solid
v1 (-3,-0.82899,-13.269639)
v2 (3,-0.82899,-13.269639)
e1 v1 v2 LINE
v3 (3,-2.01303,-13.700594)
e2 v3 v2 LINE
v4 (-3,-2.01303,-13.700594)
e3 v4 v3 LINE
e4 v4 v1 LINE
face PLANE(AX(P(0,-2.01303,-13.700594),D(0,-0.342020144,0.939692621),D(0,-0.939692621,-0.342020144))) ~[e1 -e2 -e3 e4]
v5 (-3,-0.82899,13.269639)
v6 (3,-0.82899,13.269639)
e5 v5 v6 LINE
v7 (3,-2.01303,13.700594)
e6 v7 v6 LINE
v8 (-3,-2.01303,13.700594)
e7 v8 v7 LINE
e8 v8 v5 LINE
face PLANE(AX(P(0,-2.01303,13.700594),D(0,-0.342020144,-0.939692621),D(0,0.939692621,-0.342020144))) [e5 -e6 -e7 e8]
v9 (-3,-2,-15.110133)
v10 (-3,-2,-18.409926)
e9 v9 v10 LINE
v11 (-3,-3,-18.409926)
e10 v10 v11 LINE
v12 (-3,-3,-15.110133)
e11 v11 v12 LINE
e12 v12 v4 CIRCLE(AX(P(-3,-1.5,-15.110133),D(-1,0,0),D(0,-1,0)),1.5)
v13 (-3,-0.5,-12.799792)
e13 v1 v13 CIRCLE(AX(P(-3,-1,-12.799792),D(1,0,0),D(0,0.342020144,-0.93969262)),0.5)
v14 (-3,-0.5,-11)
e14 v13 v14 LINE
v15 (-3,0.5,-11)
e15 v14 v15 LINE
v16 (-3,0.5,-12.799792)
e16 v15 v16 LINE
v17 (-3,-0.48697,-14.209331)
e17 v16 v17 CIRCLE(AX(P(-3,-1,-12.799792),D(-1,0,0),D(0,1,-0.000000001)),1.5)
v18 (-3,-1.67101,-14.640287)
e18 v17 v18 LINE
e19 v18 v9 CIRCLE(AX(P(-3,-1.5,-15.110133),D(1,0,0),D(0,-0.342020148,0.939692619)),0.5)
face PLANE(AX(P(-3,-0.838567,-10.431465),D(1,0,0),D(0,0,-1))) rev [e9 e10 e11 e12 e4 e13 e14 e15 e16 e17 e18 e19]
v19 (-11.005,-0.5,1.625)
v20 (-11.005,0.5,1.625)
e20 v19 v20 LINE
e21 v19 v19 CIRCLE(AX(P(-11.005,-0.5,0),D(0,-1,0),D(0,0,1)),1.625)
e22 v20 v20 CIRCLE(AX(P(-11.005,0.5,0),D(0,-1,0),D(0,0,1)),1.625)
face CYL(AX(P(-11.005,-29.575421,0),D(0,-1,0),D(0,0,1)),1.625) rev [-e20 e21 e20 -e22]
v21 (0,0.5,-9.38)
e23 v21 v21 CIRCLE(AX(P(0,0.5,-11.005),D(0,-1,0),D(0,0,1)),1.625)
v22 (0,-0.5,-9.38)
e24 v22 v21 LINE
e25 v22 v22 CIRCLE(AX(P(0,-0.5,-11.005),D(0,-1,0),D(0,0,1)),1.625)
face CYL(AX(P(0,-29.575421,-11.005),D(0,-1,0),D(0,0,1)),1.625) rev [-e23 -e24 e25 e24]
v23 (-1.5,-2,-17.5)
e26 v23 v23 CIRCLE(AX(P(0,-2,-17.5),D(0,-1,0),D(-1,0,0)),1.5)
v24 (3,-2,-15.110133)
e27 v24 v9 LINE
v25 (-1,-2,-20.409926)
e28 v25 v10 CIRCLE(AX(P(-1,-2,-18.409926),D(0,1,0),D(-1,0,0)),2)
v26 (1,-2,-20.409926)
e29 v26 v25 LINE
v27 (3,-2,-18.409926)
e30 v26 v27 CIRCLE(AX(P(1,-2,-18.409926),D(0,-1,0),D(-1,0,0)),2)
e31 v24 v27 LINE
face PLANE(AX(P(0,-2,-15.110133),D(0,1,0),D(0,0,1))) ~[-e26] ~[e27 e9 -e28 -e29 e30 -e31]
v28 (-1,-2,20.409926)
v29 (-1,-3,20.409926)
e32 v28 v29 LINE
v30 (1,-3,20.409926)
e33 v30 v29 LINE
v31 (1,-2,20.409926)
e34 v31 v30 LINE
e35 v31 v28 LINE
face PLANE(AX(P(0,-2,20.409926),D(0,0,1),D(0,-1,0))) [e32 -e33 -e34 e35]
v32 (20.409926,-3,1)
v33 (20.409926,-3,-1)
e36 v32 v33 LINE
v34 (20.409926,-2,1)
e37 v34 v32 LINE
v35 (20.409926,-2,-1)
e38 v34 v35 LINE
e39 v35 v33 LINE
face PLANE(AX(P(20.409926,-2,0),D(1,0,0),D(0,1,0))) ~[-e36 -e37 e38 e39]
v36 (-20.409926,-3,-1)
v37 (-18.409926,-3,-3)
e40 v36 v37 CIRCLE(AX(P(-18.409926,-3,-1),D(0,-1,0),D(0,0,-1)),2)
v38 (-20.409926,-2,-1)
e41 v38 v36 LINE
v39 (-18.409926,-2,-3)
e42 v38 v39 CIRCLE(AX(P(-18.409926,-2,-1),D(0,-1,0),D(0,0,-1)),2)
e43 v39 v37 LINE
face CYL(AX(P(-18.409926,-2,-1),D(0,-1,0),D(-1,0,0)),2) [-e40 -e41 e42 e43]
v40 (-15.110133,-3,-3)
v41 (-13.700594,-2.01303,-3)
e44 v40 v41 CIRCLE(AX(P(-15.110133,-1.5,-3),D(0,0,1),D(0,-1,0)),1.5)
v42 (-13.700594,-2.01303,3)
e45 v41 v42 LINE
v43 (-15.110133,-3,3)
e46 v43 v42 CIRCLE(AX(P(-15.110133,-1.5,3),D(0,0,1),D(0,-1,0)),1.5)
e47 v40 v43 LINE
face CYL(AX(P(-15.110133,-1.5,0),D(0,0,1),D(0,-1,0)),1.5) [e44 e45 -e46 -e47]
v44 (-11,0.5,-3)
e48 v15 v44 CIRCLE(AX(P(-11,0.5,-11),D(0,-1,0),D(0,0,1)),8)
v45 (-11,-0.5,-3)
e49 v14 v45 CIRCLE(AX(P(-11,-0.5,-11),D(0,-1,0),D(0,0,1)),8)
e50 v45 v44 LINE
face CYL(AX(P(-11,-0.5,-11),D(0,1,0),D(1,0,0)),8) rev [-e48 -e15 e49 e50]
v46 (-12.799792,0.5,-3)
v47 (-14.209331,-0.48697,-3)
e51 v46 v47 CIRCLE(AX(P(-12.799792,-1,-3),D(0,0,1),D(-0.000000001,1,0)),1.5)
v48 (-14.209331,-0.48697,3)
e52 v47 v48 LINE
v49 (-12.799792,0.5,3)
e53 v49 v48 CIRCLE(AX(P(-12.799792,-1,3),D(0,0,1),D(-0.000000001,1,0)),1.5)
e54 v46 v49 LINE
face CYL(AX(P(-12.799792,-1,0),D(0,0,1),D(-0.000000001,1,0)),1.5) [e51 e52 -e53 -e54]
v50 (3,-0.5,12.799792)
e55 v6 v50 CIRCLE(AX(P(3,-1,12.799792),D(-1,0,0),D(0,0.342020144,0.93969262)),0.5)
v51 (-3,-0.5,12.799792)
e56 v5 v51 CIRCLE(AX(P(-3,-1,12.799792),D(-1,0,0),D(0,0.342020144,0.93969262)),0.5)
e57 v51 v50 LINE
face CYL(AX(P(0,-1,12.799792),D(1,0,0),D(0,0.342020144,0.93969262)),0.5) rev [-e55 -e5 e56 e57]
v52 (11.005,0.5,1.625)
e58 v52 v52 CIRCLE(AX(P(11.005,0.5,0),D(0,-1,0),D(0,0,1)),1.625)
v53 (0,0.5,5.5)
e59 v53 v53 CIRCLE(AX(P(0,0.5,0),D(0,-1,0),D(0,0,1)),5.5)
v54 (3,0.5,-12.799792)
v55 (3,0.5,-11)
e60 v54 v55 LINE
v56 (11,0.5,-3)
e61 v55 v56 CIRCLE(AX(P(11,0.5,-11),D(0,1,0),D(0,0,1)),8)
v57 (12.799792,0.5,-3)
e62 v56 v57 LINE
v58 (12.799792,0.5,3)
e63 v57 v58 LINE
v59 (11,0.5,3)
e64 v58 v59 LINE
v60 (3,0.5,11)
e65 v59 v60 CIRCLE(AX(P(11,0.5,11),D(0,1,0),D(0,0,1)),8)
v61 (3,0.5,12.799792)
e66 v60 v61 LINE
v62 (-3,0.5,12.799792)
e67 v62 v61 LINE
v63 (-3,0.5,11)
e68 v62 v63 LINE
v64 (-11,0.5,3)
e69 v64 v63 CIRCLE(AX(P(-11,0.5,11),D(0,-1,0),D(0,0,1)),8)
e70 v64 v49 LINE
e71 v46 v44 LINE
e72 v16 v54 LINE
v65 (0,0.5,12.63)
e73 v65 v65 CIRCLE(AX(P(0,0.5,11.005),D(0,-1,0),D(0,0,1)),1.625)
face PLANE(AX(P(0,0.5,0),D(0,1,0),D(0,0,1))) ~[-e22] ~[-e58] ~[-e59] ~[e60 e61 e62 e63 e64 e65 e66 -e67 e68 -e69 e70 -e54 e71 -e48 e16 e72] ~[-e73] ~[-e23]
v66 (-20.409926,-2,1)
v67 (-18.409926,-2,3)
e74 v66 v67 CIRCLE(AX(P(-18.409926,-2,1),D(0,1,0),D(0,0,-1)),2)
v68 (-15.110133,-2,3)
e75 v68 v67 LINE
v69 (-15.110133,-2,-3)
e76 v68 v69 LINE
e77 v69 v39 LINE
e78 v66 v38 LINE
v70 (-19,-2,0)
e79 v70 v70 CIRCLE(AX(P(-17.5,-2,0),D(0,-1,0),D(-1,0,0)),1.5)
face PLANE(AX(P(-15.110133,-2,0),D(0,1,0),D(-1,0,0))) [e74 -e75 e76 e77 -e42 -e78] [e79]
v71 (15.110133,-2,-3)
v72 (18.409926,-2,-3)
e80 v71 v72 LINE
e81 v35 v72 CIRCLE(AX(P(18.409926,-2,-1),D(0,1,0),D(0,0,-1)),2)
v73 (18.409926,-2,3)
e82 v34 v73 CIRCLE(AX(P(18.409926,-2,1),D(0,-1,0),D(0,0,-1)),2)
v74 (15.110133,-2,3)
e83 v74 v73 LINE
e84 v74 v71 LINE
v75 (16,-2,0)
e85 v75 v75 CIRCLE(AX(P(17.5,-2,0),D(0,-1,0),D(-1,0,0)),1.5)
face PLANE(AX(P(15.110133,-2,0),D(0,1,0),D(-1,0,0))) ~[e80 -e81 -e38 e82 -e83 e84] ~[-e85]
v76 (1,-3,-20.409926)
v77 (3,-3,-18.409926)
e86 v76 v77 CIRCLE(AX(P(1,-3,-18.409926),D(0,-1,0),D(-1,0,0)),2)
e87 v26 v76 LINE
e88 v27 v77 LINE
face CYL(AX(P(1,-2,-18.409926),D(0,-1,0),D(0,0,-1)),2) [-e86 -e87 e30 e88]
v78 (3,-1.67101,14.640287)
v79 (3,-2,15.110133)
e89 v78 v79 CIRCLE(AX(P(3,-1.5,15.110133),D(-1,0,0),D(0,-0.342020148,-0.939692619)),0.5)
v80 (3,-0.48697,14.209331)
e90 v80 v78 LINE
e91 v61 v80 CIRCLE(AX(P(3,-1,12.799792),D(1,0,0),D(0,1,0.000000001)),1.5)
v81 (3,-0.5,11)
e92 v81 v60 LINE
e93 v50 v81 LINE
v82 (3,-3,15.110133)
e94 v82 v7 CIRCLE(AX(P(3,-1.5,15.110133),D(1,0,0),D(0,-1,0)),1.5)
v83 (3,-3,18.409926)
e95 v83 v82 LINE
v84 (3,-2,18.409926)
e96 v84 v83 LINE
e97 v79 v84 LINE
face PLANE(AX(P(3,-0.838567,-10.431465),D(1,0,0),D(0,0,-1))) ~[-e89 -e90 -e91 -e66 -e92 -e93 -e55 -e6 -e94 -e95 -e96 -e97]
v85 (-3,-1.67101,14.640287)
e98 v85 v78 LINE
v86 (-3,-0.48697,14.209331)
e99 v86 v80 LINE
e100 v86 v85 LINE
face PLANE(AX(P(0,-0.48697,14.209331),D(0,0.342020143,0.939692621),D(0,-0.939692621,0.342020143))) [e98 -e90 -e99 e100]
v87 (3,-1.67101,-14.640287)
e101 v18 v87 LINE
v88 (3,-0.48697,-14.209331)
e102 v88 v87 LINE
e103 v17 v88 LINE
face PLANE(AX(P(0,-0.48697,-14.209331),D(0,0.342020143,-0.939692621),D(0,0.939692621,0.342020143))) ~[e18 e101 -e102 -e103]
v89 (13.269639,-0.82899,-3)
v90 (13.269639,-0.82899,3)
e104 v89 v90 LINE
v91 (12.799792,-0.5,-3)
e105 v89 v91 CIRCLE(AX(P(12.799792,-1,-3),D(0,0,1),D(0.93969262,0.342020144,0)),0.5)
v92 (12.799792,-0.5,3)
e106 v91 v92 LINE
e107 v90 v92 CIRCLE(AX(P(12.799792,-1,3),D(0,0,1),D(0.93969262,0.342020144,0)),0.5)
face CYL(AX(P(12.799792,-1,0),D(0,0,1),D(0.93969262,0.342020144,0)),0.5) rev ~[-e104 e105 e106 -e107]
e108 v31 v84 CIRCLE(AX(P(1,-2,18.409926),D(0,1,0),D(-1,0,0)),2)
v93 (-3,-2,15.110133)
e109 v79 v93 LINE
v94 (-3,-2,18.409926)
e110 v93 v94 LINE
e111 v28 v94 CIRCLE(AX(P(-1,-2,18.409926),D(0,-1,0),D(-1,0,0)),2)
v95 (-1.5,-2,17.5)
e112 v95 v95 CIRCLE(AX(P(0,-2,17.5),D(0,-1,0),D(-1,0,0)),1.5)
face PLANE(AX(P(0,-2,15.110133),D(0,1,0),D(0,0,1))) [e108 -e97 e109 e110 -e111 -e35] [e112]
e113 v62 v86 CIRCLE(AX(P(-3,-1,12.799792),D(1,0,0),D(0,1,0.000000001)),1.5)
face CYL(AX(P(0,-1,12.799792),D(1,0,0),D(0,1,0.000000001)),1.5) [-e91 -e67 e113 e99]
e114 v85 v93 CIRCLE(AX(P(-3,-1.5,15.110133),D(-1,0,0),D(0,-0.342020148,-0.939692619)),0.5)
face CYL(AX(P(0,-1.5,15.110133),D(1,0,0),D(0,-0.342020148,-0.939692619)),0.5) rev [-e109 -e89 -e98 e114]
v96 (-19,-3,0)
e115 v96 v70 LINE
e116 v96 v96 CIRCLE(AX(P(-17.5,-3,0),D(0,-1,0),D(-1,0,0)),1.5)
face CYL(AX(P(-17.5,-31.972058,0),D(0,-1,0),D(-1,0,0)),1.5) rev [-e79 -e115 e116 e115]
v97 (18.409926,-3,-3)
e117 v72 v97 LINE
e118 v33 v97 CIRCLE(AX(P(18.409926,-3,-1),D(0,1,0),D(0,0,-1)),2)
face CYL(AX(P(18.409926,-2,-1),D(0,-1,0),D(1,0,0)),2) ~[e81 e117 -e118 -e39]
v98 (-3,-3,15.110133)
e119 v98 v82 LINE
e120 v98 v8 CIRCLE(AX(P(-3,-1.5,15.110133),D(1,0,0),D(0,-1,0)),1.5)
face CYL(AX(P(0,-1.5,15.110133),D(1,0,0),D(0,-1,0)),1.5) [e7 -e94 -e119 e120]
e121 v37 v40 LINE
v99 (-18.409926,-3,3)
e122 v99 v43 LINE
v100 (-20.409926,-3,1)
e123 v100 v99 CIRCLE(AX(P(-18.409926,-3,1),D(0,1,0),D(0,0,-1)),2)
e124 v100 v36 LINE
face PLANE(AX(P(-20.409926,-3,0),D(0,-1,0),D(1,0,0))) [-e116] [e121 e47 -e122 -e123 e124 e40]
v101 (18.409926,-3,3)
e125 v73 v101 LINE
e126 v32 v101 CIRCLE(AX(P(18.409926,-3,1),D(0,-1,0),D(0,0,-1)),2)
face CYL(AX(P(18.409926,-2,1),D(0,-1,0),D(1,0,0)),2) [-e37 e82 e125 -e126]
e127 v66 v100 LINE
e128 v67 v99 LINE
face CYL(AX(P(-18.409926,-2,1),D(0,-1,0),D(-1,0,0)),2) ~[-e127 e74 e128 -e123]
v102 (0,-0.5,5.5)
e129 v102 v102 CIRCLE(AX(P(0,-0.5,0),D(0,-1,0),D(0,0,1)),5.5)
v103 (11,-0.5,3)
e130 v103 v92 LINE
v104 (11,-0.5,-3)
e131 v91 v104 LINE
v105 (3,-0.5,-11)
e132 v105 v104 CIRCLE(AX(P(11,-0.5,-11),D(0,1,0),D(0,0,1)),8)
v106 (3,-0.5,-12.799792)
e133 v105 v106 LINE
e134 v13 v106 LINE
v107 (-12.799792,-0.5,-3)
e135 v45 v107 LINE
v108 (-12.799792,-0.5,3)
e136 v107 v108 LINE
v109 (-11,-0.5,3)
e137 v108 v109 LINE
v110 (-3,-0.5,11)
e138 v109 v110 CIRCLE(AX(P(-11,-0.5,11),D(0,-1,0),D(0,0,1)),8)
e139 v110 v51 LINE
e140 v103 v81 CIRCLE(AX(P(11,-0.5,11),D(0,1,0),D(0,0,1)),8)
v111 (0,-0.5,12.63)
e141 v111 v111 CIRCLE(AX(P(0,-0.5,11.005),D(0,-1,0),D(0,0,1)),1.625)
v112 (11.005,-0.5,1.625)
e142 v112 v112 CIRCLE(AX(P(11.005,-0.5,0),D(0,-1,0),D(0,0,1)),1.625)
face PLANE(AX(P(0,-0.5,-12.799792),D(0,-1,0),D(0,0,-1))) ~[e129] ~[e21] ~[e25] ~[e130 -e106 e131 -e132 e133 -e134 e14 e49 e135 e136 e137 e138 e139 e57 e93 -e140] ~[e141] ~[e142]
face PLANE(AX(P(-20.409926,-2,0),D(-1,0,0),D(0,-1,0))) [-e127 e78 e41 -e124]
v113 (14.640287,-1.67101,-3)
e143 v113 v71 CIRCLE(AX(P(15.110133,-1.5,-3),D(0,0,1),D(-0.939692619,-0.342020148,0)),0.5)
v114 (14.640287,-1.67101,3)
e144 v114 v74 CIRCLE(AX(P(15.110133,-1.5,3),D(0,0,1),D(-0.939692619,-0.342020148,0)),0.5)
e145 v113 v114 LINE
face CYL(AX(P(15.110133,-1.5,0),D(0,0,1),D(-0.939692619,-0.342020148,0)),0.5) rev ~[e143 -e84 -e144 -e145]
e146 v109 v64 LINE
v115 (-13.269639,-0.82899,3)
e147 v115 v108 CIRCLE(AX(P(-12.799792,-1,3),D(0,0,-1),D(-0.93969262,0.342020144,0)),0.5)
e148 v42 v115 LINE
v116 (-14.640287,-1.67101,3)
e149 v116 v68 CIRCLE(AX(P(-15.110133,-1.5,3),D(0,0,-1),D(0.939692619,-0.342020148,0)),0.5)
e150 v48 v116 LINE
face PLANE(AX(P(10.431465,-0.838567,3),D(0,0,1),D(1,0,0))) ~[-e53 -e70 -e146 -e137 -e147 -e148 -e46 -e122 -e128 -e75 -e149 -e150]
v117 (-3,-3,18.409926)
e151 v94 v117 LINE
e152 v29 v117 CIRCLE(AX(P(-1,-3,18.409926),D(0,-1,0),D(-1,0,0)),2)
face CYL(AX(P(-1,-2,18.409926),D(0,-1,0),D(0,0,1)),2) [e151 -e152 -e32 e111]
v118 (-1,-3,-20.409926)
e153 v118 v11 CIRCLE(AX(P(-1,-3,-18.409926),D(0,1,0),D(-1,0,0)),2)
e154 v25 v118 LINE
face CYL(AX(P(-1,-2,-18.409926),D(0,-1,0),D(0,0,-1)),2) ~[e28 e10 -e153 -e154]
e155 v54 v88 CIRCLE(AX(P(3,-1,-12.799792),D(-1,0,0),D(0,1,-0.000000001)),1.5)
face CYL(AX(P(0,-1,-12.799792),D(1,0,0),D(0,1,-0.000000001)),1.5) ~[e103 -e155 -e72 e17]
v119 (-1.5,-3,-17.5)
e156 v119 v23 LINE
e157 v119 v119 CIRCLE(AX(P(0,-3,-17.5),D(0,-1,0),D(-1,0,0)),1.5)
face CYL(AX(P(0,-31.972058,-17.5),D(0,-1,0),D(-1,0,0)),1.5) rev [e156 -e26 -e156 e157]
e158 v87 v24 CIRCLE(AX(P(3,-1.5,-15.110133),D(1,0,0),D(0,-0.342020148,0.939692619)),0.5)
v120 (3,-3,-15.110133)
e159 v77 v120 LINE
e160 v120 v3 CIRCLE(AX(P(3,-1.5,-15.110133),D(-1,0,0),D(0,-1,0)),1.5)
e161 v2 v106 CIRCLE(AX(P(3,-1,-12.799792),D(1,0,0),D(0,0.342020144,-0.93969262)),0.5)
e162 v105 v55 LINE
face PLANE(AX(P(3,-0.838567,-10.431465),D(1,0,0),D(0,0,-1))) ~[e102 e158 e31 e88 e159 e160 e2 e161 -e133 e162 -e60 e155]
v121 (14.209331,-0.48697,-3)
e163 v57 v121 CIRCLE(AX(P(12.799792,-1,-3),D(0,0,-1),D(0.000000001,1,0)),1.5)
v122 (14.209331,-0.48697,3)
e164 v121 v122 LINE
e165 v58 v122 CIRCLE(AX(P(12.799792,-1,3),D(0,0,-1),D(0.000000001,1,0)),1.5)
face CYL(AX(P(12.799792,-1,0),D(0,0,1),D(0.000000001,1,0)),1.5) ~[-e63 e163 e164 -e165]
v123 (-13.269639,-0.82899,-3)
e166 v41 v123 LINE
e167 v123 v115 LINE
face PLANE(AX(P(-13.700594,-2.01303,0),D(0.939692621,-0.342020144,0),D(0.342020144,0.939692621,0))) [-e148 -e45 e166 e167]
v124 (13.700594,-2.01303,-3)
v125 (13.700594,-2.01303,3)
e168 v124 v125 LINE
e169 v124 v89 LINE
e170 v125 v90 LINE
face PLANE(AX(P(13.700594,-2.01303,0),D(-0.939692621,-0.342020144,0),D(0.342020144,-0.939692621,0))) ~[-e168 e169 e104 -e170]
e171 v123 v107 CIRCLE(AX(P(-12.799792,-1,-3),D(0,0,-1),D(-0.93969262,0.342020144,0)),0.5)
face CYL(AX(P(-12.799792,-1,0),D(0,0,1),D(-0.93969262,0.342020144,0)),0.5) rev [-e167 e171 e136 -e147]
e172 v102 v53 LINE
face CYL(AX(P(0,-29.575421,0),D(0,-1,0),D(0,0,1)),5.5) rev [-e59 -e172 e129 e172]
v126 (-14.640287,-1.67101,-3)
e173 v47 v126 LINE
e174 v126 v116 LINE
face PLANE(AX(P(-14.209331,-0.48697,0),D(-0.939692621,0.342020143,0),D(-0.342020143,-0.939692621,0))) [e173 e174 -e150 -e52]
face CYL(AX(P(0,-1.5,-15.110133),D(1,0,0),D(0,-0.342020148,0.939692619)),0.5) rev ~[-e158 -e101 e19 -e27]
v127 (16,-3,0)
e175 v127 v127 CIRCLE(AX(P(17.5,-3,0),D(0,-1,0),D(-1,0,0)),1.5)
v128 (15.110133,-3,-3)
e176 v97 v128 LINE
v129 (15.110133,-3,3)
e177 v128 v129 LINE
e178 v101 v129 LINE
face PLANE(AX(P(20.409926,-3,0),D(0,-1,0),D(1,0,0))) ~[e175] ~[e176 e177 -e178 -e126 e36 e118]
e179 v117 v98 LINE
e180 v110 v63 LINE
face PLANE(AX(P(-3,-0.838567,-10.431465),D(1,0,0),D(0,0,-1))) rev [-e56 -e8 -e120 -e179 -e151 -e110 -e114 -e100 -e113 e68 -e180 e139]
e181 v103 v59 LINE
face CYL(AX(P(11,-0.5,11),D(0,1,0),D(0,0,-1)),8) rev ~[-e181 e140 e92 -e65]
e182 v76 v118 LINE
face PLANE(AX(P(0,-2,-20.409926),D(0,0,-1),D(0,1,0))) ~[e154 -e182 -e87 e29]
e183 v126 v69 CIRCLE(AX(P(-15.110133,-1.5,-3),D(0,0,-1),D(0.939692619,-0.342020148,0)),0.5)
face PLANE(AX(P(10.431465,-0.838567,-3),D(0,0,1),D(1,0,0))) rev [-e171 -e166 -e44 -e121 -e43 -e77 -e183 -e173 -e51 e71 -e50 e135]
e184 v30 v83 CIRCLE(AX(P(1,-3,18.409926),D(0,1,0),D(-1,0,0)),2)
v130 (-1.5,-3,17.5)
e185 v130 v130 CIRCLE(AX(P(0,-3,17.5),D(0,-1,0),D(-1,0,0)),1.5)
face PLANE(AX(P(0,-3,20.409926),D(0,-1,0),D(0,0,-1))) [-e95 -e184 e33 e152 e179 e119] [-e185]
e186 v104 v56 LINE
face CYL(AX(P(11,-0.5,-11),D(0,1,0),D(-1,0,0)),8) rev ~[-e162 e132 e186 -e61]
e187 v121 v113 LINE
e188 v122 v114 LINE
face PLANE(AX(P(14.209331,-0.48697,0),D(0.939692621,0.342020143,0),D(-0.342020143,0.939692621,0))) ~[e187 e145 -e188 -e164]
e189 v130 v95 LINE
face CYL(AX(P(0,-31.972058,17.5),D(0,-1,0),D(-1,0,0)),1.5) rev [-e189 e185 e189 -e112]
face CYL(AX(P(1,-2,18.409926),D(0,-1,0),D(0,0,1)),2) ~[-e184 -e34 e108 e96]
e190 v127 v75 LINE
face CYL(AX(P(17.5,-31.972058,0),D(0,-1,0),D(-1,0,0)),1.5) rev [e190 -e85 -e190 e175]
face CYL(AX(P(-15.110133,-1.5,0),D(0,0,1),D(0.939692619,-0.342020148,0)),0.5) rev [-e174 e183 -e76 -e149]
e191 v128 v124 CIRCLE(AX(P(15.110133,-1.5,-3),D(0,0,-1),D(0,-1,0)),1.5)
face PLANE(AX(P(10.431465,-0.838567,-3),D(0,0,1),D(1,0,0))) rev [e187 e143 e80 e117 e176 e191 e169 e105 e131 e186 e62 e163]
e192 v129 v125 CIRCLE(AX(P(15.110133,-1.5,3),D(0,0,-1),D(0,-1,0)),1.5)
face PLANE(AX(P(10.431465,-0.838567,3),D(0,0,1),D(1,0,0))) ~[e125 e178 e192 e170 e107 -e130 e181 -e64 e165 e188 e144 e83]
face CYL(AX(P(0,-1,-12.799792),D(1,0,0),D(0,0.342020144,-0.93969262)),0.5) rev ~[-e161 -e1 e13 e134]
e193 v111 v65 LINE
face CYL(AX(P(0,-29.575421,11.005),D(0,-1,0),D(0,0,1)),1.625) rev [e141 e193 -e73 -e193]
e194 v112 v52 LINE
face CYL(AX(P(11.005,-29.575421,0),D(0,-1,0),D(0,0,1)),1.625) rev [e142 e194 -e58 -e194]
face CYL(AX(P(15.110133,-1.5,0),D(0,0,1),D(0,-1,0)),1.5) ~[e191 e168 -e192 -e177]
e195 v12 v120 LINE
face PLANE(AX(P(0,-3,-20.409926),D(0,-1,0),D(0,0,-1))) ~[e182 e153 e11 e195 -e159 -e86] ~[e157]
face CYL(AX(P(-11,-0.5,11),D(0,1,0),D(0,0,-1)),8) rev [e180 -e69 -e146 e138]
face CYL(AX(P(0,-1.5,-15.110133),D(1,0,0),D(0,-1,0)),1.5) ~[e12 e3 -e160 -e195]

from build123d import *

# Parameters (mm, degrees)
EXTRUDE_THIN1_DEPTH     = 3
FILLET1_R               = 2
FILLET1_OF_MIRROR1_R    = 2
CIRPATTERN1_COUNT       = 2
CIRPATTERN1_ANGLE       = 90
CUT_EXTRUDE1_DEPTH      = 30.075421318
CUT_EXTRUDE1_DEPTH_BACK = 30.075421318
SKETCH3_R               = 1.625
CUT_EXTRUDE2_DEPTH      = 29.972057656
CUT_EXTRUDE2_DEPTH_BACK = 29.972057656
SKETCH4_R               = 1.5
FILLET2_R               = 8
CUT_EXTRUDE3_DEPTH      = 30.075421318
CUT_EXTRUDE3_DEPTH_BACK = 30.075421318
SKETCH5_R               = 5.5


with BuildPart() as part:
    # Sketch1 → Extrude-Thin1 (new, symmetric)
    with BuildSketch(Plane.XY):
        with BuildLine():
            Line((-20.409925586, -3), (-15.110133124, -3))
            ThreePointArc((-15.110133124, -3), (-14.249768469, -2.728728066), (-13.700594193, -2.013030215))
            Line((-13.700594193, -2.013030215), (-13.269638772, -0.828989928))
            ThreePointArc((-13.269638772, -0.828989928), (-13.08658068, -0.590423978), (-12.799792462, -0.5))
            Line((-12.799792462, -0.5), (0, -0.5))
            Line((0, -0.5), (0, 0.5))
            Line((0, 0.5), (-12.799792462, 0.5))
            ThreePointArc((-12.799792462, 0.5), (-13.660157116, 0.228728066), (-14.209331393, -0.486969785))
            Line((-14.209331393, -0.486969785), (-14.640286813, -1.671010072))
            ThreePointArc((-14.640286813, -1.671010072), (-14.823344906, -1.909576022), (-15.110133124, -2))
            Line((-15.110133124, -2), (-20.409925586, -2))
            Line((-20.409925586, -2), (-20.409925586, -3))
        make_face()
    extrude_thin1 = extrude(amount=EXTRUDE_THIN1_DEPTH, both=True)

    # Fillet1
    fillet1_edges = [part.edges().sort_by_distance(p)[0] for p in [
        (-20.409925586, -2.5, -3),
        (-20.409925586, -2.5, 3),
    ]]
    fillet(fillet1_edges, radius=FILLET1_R)

    # Mirror1: Extrude-Thin1 across plane
    add(extrude_thin1.mirror(Plane(origin=(0, 0.5, 3), x_dir=(0, 0, 1), z_dir=(1, 0, 0))))

    # Fillet1 of Mirror1
    fillet1_of_mirror1_edges = [part.edges().sort_by_distance(p)[0] for p in [
        (20.409925586, -2.5, -3),
        (20.409925586, -2.5, 3),
    ]]
    fillet(fillet1_of_mirror1_edges, radius=FILLET1_OF_MIRROR1_R)


with BuildPart() as cirpattern1_1:
    # CirPattern1: pattern copy
    add(part.part.rotate(Axis((0, 0, 0), (0, 1, 0)), 1 * CIRPATTERN1_ANGLE / (CIRPATTERN1_COUNT - 1)))


with BuildPart() as cut_extrude1_tool:
    # Sketch3 → Cut-Extrude1 (new, two sides: drawn at the far end of the back side and taken through both)
    with BuildSketch(Plane(origin=(0, 0.5, 0), x_dir=(1, 0, 0), z_dir=(0, 1, 0)).offset(-CUT_EXTRUDE1_DEPTH_BACK)):
        with Locations(Location((11.005, 0, 0), (0, 0, 270))):
            Circle(SKETCH3_R)
        with Locations(Location((0, -11.005, 0), (0, 0, 270))):
            Circle(SKETCH3_R)
        with Locations(Location((-11.005, 0, 0), (0, 0, 270))):
            Circle(SKETCH3_R)
        with Locations(Location((0, 11.005, 0), (0, 0, 270))):
            Circle(SKETCH3_R)
    extrude(amount=CUT_EXTRUDE1_DEPTH + CUT_EXTRUDE1_DEPTH_BACK)


with BuildPart() as part_1:
    add(part.part)

    # Cut-Extrude1: cut by cut_extrude1_tool
    add(cut_extrude1_tool.part, mode=Mode.SUBTRACT)


with BuildPart() as cirpattern1_1_1:
    add(cirpattern1_1.part)

    # Cut-Extrude1: cut by cut_extrude1_tool
    add(cut_extrude1_tool.part, mode=Mode.SUBTRACT)


with BuildPart() as cut_extrude2_tool:
    # Sketch4 → Cut-Extrude2 (new, two sides: drawn at the far end of the back side and taken through both)
    with BuildSketch(Plane(origin=(0, -2, 0), x_dir=(1, 0, 0), z_dir=(0, 1, 0)).offset(-CUT_EXTRUDE2_DEPTH_BACK)):
        with Locations(Location((-17.5, 0, 0), (0, 0, 180))):
            Circle(SKETCH4_R)
        with Locations(Location((0, 17.5, 0), (0, 0, 180))):
            Circle(SKETCH4_R)
        with Locations(Location((17.5, 0, 0), (0, 0, 180))):
            Circle(SKETCH4_R)
        with Locations(Location((0, -17.5, 0), (0, 0, 180))):
            Circle(SKETCH4_R)
    extrude(amount=CUT_EXTRUDE2_DEPTH + CUT_EXTRUDE2_DEPTH_BACK)


with BuildPart() as part_2:
    add(part_1.part)

    # Cut-Extrude2: cut by cut_extrude2_tool
    add(cut_extrude2_tool.part, mode=Mode.SUBTRACT)


with BuildPart() as cirpattern1_1_2:
    add(cirpattern1_1_1.part)

    # Cut-Extrude2: cut by cut_extrude2_tool
    add(cut_extrude2_tool.part, mode=Mode.SUBTRACT)


with BuildPart() as part_3:
    add(part_2.part)

    # Combine2: union CirPattern1_1
    add(cirpattern1_1_2.part)

    # Fillet2
    fillet2_edges = [part_3.edges().sort_by_distance(p)[0] for p in [
        (-3, 0, -3),
        (3, 0, -3),
        (-3, 0, 3),
        (3, 0, 3),
    ]]
    fillet(fillet2_edges, radius=FILLET2_R)

    # Sketch5 → Cut-Extrude3 (cut, two sides: drawn at the far end of the back side and taken through both)
    with BuildSketch(Plane(origin=(0, 0.5, 0), x_dir=(1, 0, 0), z_dir=(0, 1, 0)).offset(-CUT_EXTRUDE3_DEPTH_BACK)):
        with Locations(Location((0, 0, 0), (0, 0, 270))):
            Circle(SKETCH5_R)
    extrude(amount=CUT_EXTRUDE3_DEPTH + CUT_EXTRUDE3_DEPTH_BACK, mode=Mode.SUBTRACT)


solid = part_3.part
